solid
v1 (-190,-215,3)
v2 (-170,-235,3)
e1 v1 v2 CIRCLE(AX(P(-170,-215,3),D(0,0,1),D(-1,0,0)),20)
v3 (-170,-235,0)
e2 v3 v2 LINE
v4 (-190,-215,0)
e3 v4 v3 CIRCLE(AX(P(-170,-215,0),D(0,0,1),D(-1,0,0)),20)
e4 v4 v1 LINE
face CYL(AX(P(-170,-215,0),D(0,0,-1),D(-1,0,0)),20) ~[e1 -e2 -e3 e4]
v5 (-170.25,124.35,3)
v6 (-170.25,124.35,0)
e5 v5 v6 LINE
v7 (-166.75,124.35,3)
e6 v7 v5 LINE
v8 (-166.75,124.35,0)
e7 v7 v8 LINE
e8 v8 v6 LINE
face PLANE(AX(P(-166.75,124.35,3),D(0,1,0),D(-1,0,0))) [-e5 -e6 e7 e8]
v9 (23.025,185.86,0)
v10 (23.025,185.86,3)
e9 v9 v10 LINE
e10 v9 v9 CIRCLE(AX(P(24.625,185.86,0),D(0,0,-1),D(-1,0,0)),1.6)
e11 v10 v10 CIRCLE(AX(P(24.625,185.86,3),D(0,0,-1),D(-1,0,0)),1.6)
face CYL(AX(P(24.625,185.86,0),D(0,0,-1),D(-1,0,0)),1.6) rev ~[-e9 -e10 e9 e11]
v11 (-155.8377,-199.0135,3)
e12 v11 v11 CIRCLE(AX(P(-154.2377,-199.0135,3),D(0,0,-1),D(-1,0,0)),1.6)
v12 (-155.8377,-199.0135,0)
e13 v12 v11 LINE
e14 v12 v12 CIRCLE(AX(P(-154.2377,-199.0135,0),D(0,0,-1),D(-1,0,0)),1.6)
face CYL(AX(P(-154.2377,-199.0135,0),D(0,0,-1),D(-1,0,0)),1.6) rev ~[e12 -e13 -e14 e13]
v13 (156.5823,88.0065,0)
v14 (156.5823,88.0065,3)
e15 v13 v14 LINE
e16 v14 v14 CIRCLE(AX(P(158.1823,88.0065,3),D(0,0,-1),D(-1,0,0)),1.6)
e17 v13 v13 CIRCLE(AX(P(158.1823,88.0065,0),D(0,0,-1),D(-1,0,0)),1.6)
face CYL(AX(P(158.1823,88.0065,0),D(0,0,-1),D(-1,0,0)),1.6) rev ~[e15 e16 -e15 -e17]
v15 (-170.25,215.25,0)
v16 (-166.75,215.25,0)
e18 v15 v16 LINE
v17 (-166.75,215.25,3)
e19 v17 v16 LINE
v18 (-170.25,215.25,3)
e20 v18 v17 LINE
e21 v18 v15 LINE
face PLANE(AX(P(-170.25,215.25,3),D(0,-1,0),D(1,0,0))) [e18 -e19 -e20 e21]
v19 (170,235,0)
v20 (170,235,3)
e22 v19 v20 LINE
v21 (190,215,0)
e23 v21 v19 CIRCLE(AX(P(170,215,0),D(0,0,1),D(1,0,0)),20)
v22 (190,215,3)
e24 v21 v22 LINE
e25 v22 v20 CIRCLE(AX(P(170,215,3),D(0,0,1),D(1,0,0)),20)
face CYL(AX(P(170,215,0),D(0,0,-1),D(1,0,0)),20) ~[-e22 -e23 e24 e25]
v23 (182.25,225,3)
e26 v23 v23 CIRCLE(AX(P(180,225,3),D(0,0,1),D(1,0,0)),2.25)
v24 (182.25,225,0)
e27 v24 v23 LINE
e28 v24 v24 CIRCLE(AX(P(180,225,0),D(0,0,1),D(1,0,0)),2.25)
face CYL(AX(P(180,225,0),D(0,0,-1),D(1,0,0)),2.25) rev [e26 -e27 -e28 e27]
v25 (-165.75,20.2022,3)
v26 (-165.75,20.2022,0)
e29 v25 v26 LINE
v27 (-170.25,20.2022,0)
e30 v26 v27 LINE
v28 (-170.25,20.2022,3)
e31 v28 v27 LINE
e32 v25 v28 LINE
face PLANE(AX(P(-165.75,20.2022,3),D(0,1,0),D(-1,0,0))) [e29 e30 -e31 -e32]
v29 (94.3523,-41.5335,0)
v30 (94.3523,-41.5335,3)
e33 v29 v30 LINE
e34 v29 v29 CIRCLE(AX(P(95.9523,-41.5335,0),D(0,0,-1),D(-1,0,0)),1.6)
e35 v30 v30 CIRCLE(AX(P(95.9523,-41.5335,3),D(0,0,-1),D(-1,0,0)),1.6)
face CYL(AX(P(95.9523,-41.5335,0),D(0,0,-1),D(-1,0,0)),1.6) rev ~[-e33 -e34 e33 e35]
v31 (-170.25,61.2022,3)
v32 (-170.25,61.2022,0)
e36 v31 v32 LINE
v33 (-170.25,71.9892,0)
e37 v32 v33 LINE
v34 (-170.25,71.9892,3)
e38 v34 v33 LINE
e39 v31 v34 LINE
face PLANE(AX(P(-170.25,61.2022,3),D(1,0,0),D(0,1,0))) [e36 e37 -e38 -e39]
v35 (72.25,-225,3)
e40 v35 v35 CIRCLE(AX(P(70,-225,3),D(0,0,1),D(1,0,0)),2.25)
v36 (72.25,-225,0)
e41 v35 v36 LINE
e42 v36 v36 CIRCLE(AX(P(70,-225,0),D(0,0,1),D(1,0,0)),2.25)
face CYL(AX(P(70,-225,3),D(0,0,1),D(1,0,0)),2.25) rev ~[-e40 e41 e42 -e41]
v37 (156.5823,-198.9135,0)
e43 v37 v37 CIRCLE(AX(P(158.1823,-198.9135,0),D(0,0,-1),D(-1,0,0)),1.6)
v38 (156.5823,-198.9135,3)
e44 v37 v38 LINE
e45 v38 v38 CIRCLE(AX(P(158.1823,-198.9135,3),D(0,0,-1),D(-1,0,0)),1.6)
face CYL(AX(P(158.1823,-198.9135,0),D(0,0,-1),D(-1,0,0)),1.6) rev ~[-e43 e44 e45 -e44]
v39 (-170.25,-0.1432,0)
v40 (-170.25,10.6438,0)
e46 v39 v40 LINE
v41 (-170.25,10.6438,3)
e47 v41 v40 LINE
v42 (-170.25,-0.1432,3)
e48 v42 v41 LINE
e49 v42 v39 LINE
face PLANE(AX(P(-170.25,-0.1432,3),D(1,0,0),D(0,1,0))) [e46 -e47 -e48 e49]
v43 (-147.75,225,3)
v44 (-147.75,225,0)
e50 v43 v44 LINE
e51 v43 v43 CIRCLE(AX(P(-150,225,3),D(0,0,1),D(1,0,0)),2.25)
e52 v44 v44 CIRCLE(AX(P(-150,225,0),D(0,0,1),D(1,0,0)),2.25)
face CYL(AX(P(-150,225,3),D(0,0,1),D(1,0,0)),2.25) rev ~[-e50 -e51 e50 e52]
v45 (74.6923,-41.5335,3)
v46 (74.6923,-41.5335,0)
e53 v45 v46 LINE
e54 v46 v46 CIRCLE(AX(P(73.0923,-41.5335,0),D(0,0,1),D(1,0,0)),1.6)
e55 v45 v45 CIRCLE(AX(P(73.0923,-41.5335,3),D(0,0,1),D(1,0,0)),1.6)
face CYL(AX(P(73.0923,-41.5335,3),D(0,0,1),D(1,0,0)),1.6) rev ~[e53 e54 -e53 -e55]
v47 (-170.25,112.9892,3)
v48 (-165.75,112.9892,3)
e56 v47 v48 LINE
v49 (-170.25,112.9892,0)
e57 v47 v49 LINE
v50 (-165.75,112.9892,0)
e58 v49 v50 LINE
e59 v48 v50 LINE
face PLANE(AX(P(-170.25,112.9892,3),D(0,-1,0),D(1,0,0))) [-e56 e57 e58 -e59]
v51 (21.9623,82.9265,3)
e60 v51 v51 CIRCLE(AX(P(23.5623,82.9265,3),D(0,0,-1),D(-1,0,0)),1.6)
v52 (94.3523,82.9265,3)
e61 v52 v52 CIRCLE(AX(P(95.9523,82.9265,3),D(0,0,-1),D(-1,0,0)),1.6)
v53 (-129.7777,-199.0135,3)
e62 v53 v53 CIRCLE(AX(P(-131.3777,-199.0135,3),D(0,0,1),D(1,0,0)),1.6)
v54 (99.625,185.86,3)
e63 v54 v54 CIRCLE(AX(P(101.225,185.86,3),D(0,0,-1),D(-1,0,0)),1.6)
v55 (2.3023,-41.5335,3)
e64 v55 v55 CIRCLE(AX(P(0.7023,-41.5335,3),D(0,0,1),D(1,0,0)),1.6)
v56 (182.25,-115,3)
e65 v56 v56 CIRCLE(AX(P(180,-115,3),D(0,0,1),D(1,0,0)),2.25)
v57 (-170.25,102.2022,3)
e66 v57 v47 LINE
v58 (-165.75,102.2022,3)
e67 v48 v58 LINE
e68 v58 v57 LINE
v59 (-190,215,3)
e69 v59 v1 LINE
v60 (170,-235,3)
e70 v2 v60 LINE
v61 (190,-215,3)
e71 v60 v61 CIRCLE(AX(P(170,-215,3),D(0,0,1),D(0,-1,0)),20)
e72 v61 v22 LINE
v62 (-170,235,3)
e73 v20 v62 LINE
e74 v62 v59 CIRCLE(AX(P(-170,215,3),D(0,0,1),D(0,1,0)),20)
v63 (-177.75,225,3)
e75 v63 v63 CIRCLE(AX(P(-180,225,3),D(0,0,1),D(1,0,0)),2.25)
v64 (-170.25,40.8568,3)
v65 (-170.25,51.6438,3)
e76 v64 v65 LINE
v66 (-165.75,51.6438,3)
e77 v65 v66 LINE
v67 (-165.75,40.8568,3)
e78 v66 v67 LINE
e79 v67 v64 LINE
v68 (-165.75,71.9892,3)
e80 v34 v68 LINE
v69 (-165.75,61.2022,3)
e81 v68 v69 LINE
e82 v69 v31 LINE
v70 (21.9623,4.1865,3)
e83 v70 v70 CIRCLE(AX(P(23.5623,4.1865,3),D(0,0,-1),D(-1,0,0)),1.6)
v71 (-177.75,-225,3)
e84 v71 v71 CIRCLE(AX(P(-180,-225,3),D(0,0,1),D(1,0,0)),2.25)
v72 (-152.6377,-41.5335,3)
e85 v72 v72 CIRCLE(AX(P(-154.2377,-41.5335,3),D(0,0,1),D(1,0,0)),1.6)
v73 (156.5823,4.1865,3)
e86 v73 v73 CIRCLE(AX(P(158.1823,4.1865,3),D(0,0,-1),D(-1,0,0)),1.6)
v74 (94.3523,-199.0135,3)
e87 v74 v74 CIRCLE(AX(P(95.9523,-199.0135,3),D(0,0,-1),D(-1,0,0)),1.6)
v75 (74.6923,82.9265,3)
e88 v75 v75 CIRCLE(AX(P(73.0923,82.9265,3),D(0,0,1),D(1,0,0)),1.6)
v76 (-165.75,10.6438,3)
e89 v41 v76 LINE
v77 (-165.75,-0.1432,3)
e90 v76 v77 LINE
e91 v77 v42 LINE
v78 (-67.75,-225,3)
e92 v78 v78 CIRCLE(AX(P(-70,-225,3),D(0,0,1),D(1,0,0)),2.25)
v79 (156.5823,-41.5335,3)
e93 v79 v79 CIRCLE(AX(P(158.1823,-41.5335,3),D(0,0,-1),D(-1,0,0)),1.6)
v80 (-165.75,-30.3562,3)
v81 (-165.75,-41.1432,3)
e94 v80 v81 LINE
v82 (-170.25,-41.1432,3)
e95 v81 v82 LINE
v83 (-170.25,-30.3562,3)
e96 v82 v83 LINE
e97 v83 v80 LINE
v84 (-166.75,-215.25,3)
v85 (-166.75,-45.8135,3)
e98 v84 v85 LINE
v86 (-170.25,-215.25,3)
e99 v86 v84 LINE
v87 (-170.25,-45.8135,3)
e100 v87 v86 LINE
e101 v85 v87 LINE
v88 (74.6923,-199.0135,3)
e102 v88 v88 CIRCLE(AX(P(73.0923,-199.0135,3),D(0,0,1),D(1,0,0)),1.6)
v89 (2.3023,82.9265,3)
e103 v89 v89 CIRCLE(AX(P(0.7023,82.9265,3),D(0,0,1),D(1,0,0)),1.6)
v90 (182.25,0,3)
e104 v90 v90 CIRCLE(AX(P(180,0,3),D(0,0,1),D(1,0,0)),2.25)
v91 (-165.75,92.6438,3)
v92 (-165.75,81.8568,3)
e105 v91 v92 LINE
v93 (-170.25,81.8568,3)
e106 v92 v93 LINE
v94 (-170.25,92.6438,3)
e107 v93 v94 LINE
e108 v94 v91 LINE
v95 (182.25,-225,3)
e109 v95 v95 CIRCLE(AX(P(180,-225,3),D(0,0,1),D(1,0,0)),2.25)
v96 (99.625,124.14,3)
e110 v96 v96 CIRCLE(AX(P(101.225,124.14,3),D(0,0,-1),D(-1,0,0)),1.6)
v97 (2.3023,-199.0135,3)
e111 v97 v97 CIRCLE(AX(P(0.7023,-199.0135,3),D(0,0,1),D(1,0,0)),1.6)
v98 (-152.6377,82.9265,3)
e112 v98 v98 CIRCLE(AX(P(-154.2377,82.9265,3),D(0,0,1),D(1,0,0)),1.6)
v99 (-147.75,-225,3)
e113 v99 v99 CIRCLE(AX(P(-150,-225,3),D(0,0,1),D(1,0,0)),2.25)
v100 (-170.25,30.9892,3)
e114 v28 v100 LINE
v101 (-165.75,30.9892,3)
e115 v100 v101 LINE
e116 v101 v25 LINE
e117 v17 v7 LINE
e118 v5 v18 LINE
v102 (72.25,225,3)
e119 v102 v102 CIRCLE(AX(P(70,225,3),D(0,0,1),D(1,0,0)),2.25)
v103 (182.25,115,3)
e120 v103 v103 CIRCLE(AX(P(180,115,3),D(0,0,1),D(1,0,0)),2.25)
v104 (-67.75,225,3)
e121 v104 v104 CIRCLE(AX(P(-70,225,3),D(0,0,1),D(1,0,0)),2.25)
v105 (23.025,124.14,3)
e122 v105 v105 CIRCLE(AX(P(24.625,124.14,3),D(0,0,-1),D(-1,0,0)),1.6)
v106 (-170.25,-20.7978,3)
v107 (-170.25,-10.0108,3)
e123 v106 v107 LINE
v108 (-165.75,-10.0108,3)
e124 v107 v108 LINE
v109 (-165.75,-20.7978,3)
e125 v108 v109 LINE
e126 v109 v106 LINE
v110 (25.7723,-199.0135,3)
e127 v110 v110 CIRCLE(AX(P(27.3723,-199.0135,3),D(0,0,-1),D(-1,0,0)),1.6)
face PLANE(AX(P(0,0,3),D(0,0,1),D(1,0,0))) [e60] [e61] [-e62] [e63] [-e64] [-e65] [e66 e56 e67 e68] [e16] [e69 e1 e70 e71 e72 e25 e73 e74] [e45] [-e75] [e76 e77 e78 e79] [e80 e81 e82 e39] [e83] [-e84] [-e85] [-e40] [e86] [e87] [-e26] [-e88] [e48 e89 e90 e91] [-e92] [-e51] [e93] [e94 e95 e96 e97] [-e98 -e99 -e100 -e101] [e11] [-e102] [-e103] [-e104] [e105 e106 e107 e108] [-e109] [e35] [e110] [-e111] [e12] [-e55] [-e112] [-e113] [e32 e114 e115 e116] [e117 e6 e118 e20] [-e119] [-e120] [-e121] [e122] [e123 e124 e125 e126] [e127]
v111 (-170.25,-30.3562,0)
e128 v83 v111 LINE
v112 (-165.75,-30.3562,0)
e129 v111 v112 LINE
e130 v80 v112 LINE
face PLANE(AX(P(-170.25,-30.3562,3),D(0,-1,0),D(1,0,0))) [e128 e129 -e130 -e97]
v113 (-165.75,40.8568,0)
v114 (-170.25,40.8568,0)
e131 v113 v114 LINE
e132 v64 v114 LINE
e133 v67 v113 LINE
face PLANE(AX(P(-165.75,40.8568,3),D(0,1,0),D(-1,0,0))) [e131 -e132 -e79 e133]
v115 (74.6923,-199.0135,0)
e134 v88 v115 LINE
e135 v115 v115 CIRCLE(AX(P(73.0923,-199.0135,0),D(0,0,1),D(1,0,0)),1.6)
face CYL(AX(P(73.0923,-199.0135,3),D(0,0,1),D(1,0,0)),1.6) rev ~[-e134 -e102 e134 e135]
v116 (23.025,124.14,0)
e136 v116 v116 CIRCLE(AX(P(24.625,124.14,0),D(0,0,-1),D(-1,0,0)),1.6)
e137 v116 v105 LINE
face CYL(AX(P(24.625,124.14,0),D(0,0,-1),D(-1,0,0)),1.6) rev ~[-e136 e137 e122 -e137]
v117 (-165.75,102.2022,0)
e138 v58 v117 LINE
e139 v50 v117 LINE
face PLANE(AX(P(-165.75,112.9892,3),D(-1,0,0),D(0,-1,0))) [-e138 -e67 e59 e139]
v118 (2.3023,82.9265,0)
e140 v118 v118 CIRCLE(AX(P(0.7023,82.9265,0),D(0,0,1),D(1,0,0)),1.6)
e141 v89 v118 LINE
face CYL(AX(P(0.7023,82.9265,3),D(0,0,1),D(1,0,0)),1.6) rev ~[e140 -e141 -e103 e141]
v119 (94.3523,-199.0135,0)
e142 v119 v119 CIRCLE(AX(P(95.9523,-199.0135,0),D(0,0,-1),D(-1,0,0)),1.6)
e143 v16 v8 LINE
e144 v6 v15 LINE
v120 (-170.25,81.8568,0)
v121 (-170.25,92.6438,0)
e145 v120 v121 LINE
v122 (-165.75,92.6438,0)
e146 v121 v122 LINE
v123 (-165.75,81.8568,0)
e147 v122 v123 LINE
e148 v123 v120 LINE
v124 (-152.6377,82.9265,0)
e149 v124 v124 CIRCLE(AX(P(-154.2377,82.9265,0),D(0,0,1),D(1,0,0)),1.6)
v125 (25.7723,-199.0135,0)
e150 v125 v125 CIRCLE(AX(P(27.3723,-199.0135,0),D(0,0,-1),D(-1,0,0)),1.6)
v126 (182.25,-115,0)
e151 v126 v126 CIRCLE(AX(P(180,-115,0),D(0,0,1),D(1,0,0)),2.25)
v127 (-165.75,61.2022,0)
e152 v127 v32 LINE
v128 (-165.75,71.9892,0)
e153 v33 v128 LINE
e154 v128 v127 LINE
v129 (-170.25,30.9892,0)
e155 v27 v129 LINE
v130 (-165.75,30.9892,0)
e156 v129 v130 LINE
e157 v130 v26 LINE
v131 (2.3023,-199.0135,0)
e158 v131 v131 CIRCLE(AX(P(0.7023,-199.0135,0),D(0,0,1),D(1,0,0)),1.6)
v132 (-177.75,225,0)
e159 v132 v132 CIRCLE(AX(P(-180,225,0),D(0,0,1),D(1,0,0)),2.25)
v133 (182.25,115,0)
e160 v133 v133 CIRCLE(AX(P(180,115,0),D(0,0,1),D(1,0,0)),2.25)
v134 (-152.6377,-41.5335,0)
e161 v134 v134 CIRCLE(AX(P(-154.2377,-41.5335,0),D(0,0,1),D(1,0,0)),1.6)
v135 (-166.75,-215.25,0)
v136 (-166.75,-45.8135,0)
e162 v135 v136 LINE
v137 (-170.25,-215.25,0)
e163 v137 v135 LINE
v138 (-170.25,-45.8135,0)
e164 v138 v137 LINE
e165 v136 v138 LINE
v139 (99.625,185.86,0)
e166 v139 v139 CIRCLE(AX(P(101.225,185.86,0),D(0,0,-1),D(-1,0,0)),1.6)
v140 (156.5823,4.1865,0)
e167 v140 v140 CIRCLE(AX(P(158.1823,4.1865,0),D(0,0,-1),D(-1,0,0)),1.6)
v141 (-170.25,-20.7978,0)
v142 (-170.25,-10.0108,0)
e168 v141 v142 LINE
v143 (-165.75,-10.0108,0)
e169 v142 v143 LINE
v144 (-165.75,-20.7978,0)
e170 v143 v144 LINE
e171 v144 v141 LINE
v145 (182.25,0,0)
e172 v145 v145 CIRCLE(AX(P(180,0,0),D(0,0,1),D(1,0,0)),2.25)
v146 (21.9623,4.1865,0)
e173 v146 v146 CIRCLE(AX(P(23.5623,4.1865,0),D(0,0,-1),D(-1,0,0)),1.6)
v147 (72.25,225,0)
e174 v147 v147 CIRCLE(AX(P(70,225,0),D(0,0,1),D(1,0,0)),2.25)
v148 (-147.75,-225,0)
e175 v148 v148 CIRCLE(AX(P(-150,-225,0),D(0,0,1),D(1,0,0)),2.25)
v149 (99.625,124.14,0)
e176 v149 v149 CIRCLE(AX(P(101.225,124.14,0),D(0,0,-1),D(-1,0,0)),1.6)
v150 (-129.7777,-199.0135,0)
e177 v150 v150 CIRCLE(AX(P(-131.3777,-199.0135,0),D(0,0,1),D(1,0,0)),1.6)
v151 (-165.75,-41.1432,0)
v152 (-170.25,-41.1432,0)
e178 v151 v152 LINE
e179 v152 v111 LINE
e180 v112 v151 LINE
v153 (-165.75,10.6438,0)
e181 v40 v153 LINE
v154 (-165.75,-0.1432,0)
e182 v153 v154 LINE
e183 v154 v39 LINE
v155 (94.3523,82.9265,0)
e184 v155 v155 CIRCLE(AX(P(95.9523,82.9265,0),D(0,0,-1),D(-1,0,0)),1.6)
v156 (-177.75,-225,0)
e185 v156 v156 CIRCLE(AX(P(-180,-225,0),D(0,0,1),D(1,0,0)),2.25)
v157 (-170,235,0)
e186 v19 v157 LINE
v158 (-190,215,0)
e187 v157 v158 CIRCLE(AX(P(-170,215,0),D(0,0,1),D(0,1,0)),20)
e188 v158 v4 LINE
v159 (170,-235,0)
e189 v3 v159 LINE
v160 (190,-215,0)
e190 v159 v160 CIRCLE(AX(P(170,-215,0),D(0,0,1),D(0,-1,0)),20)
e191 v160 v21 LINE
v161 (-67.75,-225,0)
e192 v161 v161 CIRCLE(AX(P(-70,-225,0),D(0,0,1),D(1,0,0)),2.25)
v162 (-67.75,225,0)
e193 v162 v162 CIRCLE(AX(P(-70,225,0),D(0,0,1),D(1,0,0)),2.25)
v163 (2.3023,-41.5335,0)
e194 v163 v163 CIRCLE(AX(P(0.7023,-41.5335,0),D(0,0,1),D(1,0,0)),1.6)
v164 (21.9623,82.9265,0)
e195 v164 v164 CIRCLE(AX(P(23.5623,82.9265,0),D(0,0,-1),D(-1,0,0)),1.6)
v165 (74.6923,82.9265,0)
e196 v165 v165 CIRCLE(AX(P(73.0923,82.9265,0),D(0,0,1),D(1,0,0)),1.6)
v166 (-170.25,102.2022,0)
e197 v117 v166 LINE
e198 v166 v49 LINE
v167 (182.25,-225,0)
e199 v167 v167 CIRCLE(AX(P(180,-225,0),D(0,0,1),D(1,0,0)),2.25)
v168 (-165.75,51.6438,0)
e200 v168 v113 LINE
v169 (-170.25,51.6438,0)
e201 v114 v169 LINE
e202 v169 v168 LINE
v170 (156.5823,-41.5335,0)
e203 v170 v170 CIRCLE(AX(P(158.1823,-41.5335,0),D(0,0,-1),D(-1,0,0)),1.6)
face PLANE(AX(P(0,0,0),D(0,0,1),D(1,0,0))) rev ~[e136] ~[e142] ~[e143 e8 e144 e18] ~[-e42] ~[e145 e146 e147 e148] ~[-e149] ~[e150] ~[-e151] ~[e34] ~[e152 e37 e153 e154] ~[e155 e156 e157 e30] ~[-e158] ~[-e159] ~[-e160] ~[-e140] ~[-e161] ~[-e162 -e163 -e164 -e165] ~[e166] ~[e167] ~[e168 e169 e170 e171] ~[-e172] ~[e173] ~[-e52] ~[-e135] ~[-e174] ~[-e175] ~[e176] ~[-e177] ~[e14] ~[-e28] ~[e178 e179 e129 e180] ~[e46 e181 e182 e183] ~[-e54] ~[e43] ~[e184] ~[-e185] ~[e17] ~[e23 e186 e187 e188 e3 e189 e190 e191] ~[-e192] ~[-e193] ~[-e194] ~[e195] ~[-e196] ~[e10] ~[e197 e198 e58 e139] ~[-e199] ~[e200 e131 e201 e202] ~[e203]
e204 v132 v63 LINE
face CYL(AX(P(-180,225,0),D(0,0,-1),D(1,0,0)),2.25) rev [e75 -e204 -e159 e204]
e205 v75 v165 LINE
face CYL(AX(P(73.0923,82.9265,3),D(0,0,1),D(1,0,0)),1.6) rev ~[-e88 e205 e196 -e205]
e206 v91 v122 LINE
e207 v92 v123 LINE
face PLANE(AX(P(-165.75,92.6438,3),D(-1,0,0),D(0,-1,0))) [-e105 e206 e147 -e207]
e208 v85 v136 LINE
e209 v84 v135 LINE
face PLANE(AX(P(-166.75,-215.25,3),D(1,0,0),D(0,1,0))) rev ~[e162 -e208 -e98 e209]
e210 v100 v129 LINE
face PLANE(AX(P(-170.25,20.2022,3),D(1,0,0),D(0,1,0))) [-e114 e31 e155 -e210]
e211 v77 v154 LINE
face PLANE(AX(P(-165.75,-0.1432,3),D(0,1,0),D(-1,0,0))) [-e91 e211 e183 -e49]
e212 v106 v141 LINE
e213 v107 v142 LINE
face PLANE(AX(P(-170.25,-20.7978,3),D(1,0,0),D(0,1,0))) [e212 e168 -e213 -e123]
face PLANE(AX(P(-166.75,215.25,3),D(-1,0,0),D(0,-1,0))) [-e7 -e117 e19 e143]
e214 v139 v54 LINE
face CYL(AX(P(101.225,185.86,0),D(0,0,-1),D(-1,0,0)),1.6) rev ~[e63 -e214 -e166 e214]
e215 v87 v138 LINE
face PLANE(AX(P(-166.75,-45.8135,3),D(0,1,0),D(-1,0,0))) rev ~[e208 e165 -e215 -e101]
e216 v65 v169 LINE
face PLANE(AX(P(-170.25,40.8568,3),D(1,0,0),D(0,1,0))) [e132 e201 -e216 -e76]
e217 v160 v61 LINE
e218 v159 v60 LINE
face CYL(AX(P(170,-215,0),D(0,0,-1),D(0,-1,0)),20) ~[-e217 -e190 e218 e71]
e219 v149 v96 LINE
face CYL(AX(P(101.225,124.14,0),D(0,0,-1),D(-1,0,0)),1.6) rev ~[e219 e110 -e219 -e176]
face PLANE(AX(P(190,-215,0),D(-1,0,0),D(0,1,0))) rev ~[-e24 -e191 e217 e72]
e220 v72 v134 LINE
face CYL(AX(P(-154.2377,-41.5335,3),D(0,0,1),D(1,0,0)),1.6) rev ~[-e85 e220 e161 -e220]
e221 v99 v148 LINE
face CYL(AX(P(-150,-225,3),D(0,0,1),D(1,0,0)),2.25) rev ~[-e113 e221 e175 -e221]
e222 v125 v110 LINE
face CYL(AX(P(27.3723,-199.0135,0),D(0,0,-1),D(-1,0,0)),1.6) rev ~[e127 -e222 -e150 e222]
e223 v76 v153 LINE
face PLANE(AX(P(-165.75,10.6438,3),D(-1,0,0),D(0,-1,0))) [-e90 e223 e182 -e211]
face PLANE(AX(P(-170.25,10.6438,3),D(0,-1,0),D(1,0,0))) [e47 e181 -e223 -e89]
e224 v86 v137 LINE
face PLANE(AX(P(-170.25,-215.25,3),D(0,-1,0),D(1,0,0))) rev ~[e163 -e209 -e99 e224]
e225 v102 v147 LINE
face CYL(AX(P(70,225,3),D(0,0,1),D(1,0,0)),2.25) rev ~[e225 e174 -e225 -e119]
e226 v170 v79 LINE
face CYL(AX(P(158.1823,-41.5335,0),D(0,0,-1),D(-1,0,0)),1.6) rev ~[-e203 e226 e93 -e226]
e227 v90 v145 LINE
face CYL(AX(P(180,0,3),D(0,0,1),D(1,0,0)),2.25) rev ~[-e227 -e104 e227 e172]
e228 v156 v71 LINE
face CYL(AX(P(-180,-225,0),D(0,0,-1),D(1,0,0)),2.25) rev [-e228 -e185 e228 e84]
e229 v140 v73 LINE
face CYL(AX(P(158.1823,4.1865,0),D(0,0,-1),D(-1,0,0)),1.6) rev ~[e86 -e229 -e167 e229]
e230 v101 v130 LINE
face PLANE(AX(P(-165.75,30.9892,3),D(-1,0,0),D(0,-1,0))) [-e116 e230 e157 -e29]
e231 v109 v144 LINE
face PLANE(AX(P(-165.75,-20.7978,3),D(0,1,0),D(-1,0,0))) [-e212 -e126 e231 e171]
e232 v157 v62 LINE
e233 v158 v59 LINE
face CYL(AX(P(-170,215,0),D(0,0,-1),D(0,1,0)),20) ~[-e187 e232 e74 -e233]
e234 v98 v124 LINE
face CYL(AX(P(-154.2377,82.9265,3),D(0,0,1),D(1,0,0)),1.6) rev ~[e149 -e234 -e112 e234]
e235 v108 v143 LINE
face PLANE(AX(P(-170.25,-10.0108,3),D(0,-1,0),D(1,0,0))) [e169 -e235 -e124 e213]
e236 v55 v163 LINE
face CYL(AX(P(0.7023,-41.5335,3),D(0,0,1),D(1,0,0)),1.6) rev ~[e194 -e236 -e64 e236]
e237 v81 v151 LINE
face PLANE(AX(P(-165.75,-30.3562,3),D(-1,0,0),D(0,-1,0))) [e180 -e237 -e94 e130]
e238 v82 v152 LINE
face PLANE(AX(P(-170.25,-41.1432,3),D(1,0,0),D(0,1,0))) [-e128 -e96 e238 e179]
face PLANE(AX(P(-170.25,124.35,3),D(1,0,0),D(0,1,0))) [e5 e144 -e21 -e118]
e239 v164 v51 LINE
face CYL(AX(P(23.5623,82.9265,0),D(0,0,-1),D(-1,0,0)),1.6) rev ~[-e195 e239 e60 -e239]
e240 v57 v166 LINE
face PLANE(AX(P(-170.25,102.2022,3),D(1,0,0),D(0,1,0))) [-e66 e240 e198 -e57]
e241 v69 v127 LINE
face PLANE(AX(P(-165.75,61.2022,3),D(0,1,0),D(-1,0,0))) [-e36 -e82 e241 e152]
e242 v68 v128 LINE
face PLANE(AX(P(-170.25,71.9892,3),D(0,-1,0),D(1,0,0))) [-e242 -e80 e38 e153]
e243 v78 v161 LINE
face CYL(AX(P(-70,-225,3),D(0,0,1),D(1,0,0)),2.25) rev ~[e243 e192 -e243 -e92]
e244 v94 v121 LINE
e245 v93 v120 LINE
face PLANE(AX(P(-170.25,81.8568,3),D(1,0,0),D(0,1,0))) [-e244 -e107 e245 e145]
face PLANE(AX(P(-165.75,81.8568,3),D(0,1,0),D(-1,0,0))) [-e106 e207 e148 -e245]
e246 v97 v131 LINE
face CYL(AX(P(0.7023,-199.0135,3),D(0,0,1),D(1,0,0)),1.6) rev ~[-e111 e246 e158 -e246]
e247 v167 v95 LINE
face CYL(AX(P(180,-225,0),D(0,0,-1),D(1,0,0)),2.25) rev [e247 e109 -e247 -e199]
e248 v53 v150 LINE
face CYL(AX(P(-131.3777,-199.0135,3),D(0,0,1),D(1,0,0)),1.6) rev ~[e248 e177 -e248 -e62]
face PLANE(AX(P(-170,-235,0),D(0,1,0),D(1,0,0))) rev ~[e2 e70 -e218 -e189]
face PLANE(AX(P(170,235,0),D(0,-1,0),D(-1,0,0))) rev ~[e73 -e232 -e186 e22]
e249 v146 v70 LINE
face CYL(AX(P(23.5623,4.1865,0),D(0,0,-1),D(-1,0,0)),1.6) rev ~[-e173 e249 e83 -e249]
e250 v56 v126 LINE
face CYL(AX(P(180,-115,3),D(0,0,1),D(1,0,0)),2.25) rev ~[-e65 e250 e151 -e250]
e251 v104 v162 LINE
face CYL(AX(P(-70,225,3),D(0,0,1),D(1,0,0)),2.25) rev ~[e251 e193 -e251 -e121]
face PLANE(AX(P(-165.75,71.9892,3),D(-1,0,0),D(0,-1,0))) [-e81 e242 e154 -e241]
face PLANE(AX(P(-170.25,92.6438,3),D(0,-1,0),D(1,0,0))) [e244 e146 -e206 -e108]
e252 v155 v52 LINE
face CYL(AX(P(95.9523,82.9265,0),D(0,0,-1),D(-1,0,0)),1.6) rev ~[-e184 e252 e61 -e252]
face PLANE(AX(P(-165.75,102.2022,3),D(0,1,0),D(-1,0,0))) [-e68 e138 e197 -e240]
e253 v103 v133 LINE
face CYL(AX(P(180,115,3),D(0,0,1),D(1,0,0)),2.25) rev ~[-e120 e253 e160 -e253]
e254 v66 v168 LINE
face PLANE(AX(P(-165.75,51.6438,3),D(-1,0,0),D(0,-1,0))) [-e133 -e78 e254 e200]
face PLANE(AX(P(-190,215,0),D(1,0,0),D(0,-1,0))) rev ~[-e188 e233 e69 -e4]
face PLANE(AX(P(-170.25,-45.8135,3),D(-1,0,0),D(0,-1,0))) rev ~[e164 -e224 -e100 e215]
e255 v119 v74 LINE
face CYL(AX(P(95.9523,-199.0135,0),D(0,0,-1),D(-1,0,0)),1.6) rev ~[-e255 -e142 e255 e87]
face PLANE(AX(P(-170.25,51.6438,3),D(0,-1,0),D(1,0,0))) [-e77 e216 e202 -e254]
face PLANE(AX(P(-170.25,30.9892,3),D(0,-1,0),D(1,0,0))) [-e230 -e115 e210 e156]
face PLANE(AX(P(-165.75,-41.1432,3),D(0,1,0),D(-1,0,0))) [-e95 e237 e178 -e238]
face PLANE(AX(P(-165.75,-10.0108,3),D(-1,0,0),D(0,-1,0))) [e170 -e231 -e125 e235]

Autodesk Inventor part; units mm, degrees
ref_plane "YZ Plane" through (0, 0, 0) normal (1, 0, 0) x (0, 1, 0)
ref_plane "XZ Plane" through (0, 0, 0) normal (0, 1, 0) x (-1, 0, 0)
ref_plane "XY Plane" through (0, 0, 0) normal (0, 0, 1) x (1, 0, 0)
sketch "スケッチ1" plane through (0, 0, 0) normal (0, 0, 1) x (1, 0, 0)
  line L0 (-170, -235) -> (170, -235)
  line L1 (190, -215) -> (190, 215)
  line L2 (170, 235) -> (-170, 235)
  line L3 (-190, 215) -> (-190, -215)
  line L4 (-190, -235) -> (190, 235) construction
  line L5 (190, -235) -> (-190, 235) construction
  circle A0 centre (-180, 225) radius 2.25
  circle A1 centre (180, 225) radius 2.25
  circle A2 centre (-180, -225) radius 2.25
  circle A3 centre (180, -225) radius 2.25
  arc A4 (-170, 235) -> (-190, 215) centre (-170, 215) ccw
  arc A5 (190, 215) -> (170, 235) centre (170, 215) ccw
  arc A6 (170, -235) -> (190, -215) centre (170, -215) ccw
  arc A7 (-190, -215) -> (-170, -235) centre (-170, -215) ccw
  point P0 (0, 0)
  dimension "d0" = 380
  dimension "d1" = 470
  dimension "d2" = 4.5
  dimension "d3" = 10
  dimension "d4" = 10
  dimension "d5" = 10
  dimension "d6" = 10
  dimension "d7" = 10
  dimension "d8" = 10
  dimension "d9" = 10
  dimension "d10" = 10
  dimension "d11" = 20
extrude "押し出し1" add sketch "スケッチ1" along normal blind 3
sketch "スケッチ2" plane through (0, 0, 3) normal (0, 0, 1) x (1, 0, 0)
  circle A0 centre (73.0923, -199.0135) radius 2.25 construction
  circle A1 centre (-131.3777, -199.0135) radius 2.25 construction
  circle A2 centre (73.0923, -41.5335) radius 2.25 construction
  circle A3 centre (73.0923, 82.9265) radius 2.25 construction
  circle A4 centre (0.7023, -199.0135) radius 2.25 construction
  circle A5 centre (0.7023, -41.5335) radius 2.25 construction
  circle A6 centre (0.7023, 82.9265) radius 2.25 construction
  circle A7 centre (-154.2377, -41.5335) radius 2.25 construction
  circle A8 centre (-154.2377, 82.9265) radius 2.25 construction
  circle A9 centre (73.0923, 82.9265) radius 1.6
  circle A10 centre (0.7023, 82.9265) radius 1.6
  circle A11 centre (-154.2377, 82.9265) radius 1.6
  circle A12 centre (-154.2377, -41.5335) radius 1.6
  circle A13 centre (-131.3777, -199.0135) radius 1.6
  circle A14 centre (0.7023, -199.0135) radius 1.6
  circle A15 centre (73.0923, -199.0135) radius 1.6
  circle A16 centre (73.0923, -41.5335) radius 1.6
  circle A17 centre (0.7023, -41.5335) radius 1.6
  point P0 (0, 0)
  dimension "d14" = 3.2
extrude "押し出し2" cut sketch "スケッチ2" against normal blind 3
sketch "スケッチ4" plane through (0, 0, 3) normal (0, 0, 1) x (1, 0, 0)
  line L0 (-170, -215) -> (-170, -46.0635) projected
  line L1 (-170, -215) -> (-167, -215) projected
  line L2 (-167, -46.0635) -> (-167, -215) projected
  line L3 (-170, -46.0635) -> (-167, -46.0635) projected
  line L4 (-170, -40.8932) -> (-170, -30.6062) projected
  line L5 (-170, -40.8932) -> (-167, -40.8932) projected
  line L6 (-167, -30.6062) -> (-167, -40.8932) projected
  line L7 (-170, -30.6062) -> (-167, -30.6062) projected
  line L8 (-170, -20.5478) -> (-170, -10.2608) projected
  line L9 (-170, -20.5478) -> (-167, -20.5478) projected
  line L10 (-167, -10.2608) -> (-167, -20.5478) projected
  line L11 (-170, -10.2608) -> (-167, -10.2608) projected
  line L12 (-170, 0.1068) -> (-170, 10.3938) projected
  line L13 (-170, 0.1068) -> (-167, 0.1068) projected
  line L14 (-167, 10.3938) -> (-167, 0.1068) projected
  line L15 (-170, 10.3938) -> (-167, 10.3938) projected
  line L16 (-170, 20.4522) -> (-170, 30.7392) projected
  line L17 (-170, 20.4522) -> (-167, 20.4522) projected
  line L18 (-167, 30.7392) -> (-167, 20.4522) projected
  line L19 (-170, 30.7392) -> (-167, 30.7392) projected
  line L20 (-170, 41.1068) -> (-170, 51.3938) projected
  line L21 (-170, 41.1068) -> (-167, 41.1068) projected
  line L22 (-167, 51.3938) -> (-167, 41.1068) projected
  line L23 (-170, 51.3938) -> (-167, 51.3938) projected
  line L24 (-170, 61.4522) -> (-170, 71.7392) projected
  line L25 (-170, 61.4522) -> (-167, 61.4522) projected
  line L26 (-167, 71.7392) -> (-167, 61.4522) projected
  line L27 (-170, 71.7392) -> (-167, 71.7392) projected
  line L28 (-170, 82.1068) -> (-170, 92.3938) projected
  line L29 (-170, 82.1068) -> (-167, 82.1068) projected
  line L30 (-167, 92.3938) -> (-167, 82.1068) projected
  line L31 (-170, 92.3938) -> (-167, 92.3938) projected
  line L32 (-170, 102.4522) -> (-170, 112.7392) projected
  line L33 (-170, 102.4522) -> (-167, 102.4522) projected
  line L34 (-167, 112.7392) -> (-167, 102.4522) projected
  line L35 (-170, 112.7392) -> (-167, 112.7392) projected
  line L36 (-170, 215) -> (-170, 124.6) projected
  line L37 (-170, 124.6) -> (-167, 124.6) projected
  line L38 (-167, 215) -> (-167, 124.6) projected
  line L39 (-170, 215) -> (-167, 215) projected
  line L40 (-167, 112.7392) -> (-166, 112.7392)
  line L41 (-166, 112.7392) -> (-166, 102.4522)
  line L42 (-166, 102.4522) -> (-167, 102.4522)
  line L43 (-167, 92.3938) -> (-166, 92.3938)
  line L44 (-166, 92.3938) -> (-166, 82.1068)
  line L45 (-166, 82.1068) -> (-167, 82.1068)
  line L46 (-167, 71.7392) -> (-166, 71.7392)
  line L47 (-166, 71.7392) -> (-166, 61.4522)
  line L48 (-166, 61.4522) -> (-167, 61.4522)
  line L49 (-167, 51.3938) -> (-166, 51.3938)
  line L50 (-166, 51.3938) -> (-166, 41.1068)
  line L51 (-166, 41.1068) -> (-167, 41.1068)
  line L52 (-167, 30.7392) -> (-166, 30.7392)
  line L53 (-166, 30.7392) -> (-166, 20.4522)
  line L54 (-166, 20.4522) -> (-167, 20.4522)
  line L55 (-167, 10.3938) -> (-166, 10.3938)
  line L56 (-166, 10.3938) -> (-166, 0.1068)
  line L57 (-166, 0.1068) -> (-167, 0.1068)
  line L58 (-167, -10.2608) -> (-166, -10.2608)
  line L59 (-166, -10.2608) -> (-166, -20.5478)
  line L60 (-166, -20.5478) -> (-167, -20.5478)
  line L61 (-167, -30.6062) -> (-166, -30.6062)
  line L62 (-166, -30.6062) -> (-166, -40.8932)
  line L63 (-166, -40.8932) -> (-167, -40.8932)
  point P0 (0, 0)
  dimension "d17" = 1
extrude "押し出し3" cut sketch "スケッチ4" against normal blind 3
sketch "スケッチ5" plane through (0, 0, 3) normal (0, 0, 1) x (1, 0, 0)
  circle A0 centre (-180, 225) radius 2.25 construction
  circle A1 centre (-180, -225) radius 2.25 construction
  circle A2 centre (-150, -225) radius 2.25
  line L0 (-170, -235) -> (170, -235) projected
  circle A3 centre (-150, 225) radius 2.25
  line L1 (170, 235) -> (-170, 235) projected
  point P0 (0, 0)
  dimension "d20" = 30
  dimension "d21" = 10
  dimension "d22" = 30
  dimension "d23" = 10
extrude "押し出し4" cut sketch "スケッチ5" against normal blind 3
sketch "スケッチ6" plane through (0, 0, 3) normal (0, 0, 1) x (1, 0, 0)
  circle A0 centre (-150, -225) radius 2.25 construction
  circle A1 centre (-150, 225) radius 2.25 construction
  line L0 (-167, 124.6) -> (-170, 124.6) construction
  line L1 (-170, 124.6) -> (-170, 215) construction
  line L2 (-170, 215) -> (-167, 215) construction
  line L3 (-167, 215) -> (-167, 124.6) construction
  line L4 (-166, 92.3938) -> (-166, 82.1068) construction
  line L5 (-166, 82.1068) -> (-170, 82.1068) construction
  line L6 (-170, 82.1068) -> (-170, 92.3938) construction
  line L7 (-170, 92.3938) -> (-166, 92.3938) construction
  line L8 (-166, 51.3938) -> (-166, 41.1068) construction
  line L9 (-166, 41.1068) -> (-170, 41.1068) construction
  line L10 (-170, 41.1068) -> (-170, 51.3938) construction
  line L11 (-170, 51.3938) -> (-166, 51.3938) construction
  line L12 (-166, 10.3938) -> (-166, 0.1068) construction
  line L13 (-166, 0.1068) -> (-170, 0.1068) construction
  line L14 (-170, 0.1068) -> (-170, 10.3938) construction
  line L15 (-170, 10.3938) -> (-166, 10.3938) construction
  line L16 (-166, -30.6062) -> (-166, -40.8932) construction
  line L17 (-166, -40.8932) -> (-170, -40.8932) construction
  line L18 (-170, -40.8932) -> (-170, -30.6062) construction
  line L19 (-170, -30.6062) -> (-166, -30.6062) construction
  line L20 (-166, -10.2608) -> (-166, -20.5478) construction
  line L21 (-166, -20.5478) -> (-170, -20.5478) construction
  line L22 (-170, -20.5478) -> (-170, -10.2608) construction
  line L23 (-170, -10.2608) -> (-166, -10.2608) construction
  line L24 (-166, 30.7392) -> (-166, 20.4522) construction
  line L25 (-166, 20.4522) -> (-170, 20.4522) construction
  line L26 (-170, 20.4522) -> (-170, 30.7392) construction
  line L27 (-170, 30.7392) -> (-166, 30.7392) construction
  line L28 (-166, 71.7392) -> (-166, 61.4522) construction
  line L29 (-166, 61.4522) -> (-170, 61.4522) construction
  line L30 (-170, 61.4522) -> (-170, 71.7392) construction
  line L31 (-170, 71.7392) -> (-166, 71.7392) construction
  line L32 (-166, 112.7392) -> (-166, 102.4522) construction
  line L33 (-166, 102.4522) -> (-170, 102.4522) construction
  line L34 (-170, 102.4522) -> (-170, 112.7392) construction
  line L35 (-170, 112.7392) -> (-166, 112.7392) construction
  line L36 (-167, -215) -> (-170, -215) construction
  line L37 (-170, -215) -> (-170, -46.0635) construction
  line L38 (-170, -46.0635) -> (-167, -46.0635) construction
  line L39 (-167, -46.0635) -> (-167, -215) construction
  circle A2 centre (73.0923, -41.5335) radius 1.6 construction
  circle A3 centre (0.7023, -199.0135) radius 1.6 construction
  circle A4 centre (-154.2377, -41.5335) radius 1.6 construction
  circle A5 centre (0.7023, 82.9265) radius 1.6 construction
  circle A6 centre (73.0923, 82.9265) radius 1.6 construction
  circle A7 centre (-154.2377, 82.9265) radius 1.6 construction
  circle A8 centre (-131.3777, -199.0135) radius 1.6 construction
  circle A9 centre (73.0923, -199.0135) radius 1.6 construction
  circle A10 centre (0.7023, -41.5335) radius 1.6 construction
  circle A11 centre (180, -225) radius 2.25 construction
  circle A12 centre (-180, -225) radius 2.25 construction
  circle A13 centre (180, 225) radius 2.25 construction
  circle A14 centre (-180, 225) radius 2.25 construction
  line L40 (170, 235) -> (-170, 235) construction
  arc A15 (-170, 235) -> (-190, 215) centre (-170, 215) ccw construction
  line L41 (-190, 215) -> (-190, -215) construction
  arc A16 (-190, -215) -> (-170, -235) centre (-170, -215) ccw construction
  line L42 (-170, -235) -> (170, -235) construction
  arc A17 (170, -235) -> (190, -215) centre (170, -215) ccw construction
  line L43 (190, -215) -> (190, 215) construction
  arc A18 (190, 215) -> (170, 235) centre (170, 215) ccw construction
  line L44 (-166.75, 124.35) -> (-170.25, 124.35)
  line L45 (-170.25, 124.35) -> (-170.25, 215.25)
  line L46 (-170.25, 215.25) -> (-166.75, 215.25)
  line L47 (-166.75, 215.25) -> (-166.75, 124.35)
  line L48 (-165.75, 112.9892) -> (-165.75, 102.2022)
  line L49 (-165.75, 102.2022) -> (-170.25, 102.2022)
  line L50 (-170.25, 102.2022) -> (-170.25, 112.9892)
  line L51 (-170.25, 112.9892) -> (-165.75, 112.9892)
  line L52 (-165.75, 92.6438) -> (-165.75, 81.8568)
  line L53 (-165.75, 81.8568) -> (-170.25, 81.8568)
  line L54 (-170.25, 81.8568) -> (-170.25, 92.6438)
  line L55 (-170.25, 92.6438) -> (-165.75, 92.6438)
  line L56 (-165.75, 71.9892) -> (-165.75, 61.2022)
  line L57 (-165.75, 61.2022) -> (-170.25, 61.2022)
  line L58 (-170.25, 61.2022) -> (-170.25, 71.9892)
  line L59 (-170.25, 71.9892) -> (-165.75, 71.9892)
  line L60 (-165.75, 51.6438) -> (-165.75, 40.8568)
  line L61 (-165.75, 40.8568) -> (-170.25, 40.8568)
  line L62 (-170.25, 40.8568) -> (-170.25, 51.6438)
  line L63 (-170.25, 51.6438) -> (-165.75, 51.6438)
  line L64 (-165.75, 30.9892) -> (-165.75, 20.2022)
  line L65 (-165.75, 20.2022) -> (-170.25, 20.2022)
  line L66 (-170.25, 20.2022) -> (-170.25, 30.9892)
  line L67 (-170.25, 30.9892) -> (-165.75, 30.9892)
  line L68 (-165.75, 10.6438) -> (-165.75, -0.1432)
  line L69 (-165.75, -0.1432) -> (-170.25, -0.1432)
  line L70 (-170.25, -0.1432) -> (-170.25, 10.6438)
  line L71 (-170.25, 10.6438) -> (-165.75, 10.6438)
  line L72 (-165.75, -10.0108) -> (-165.75, -20.7978)
  line L73 (-165.75, -20.7978) -> (-170.25, -20.7978)
  line L74 (-170.25, -20.7978) -> (-170.25, -10.0108)
  line L75 (-170.25, -10.0108) -> (-165.75, -10.0108)
  line L76 (-165.75, -30.3562) -> (-165.75, -41.1432)
  line L77 (-165.75, -41.1432) -> (-170.25, -41.1432)
  line L78 (-170.25, -41.1432) -> (-170.25, -30.3562)
  line L79 (-170.25, -30.3562) -> (-165.75, -30.3562)
  line L80 (-166.75, -45.8135) -> (-170.25, -45.8135)
  line L81 (-170.25, -45.8135) -> (-170.25, -215.25)
  line L82 (-170.25, -215.25) -> (-166.75, -215.25)
  line L83 (-166.75, -215.25) -> (-166.75, -45.8135)
  point P0 (0, 0)
  dimension "d26" = 0.25
  dimension "d27" = 0.25
  dimension "d28" = 0.25
  dimension "d29" = 0.25
  dimension "d30" = 0.25
  dimension "d31" = 0.25
  dimension "d32" = 0.25
  dimension "d33" = 0.25
  dimension "d34" = 0.25
  dimension "d35" = 0.25
extrude "押し出し5" cut sketch "スケッチ6" against normal through all
sketch "スケッチ7" plane through (0, 0, 3) normal (0, 0, 1) x (1, 0, 0)
  line L0 (190, 215) -> (190, -215) projected
  circle A0 centre (-70, -225) radius 2.25 projected
  circle A1 centre (180, 0) radius 2.25 projected
  circle A2 centre (70, -225) radius 2.25 projected
  circle A3 centre (180, 115) radius 2.25 projected
  circle A4 centre (-70, 225) radius 2.25 projected
  circle A5 centre (-180, -115) radius 2.25 projected
  circle A6 centre (-180, 0) radius 2.25 projected
  circle A7 centre (70, 225) radius 2.25 projected
  circle A8 centre (180, -115) radius 2.25 projected
  line L1 (-170.2, 124.4) -> (-166.8, 124.4) projected
  line L2 (-166.8, 124.4) -> (-166.8, 215.2) projected
  line L3 (-166.8, 215.2) -> (-170.2, 215.2) projected
  line L4 (-170.2, 215.2) -> (-170.2, 124.4) projected
  circle A9 centre (-180, 115) radius 2.25 projected
  circle A10 centre (180, 225) radius 2.25 projected
  circle A11 centre (-180, 225) radius 2.25 projected
  circle A12 centre (180, -225) radius 2.25 projected
  circle A13 centre (-180, -225) radius 2.25 projected
  line L5 (170, -235) -> (-170, -235) projected
  arc A14 (-190, -215) -> (-170, -235) centre (-170, -215) ccw projected
  line L6 (-190, -215) -> (-190, 215) projected
  arc A15 (-170, 235) -> (-190, 215) centre (-170, 215) ccw projected
  line L7 (-170, 235) -> (170, 235) projected
  arc A16 (190, 215) -> (170, 235) centre (170, 215) ccw projected
  line L8 (190, 215) -> (190, -215) projected
  arc A17 (170, -235) -> (190, -215) centre (170, -215) ccw projected
  point P0 (0, 0)
extrude "押し出し6" cut sketch "スケッチ7" against normal up to surface (3 mm away) contours A0 | A1 | A2 | A3 | A4 | A7 | A8
sketch "スケッチ8" plane through (0, 0, 0) normal (0, 0, -1) x (-1, 0, 0)
  line L0 (-14.775, 120.075) -> (-115.225, 120.075) construction
  line L1 (-115.225, 120.075) -> (-115.225, 189.925) construction
  line L2 (-115.225, 189.925) -> (-14.775, 189.925) construction
  line L3 (-14.775, 189.925) -> (-14.775, 120.075) construction
  line L4 (-14.775, 120.075) -> (-115.225, 189.925) construction
  line L5 (-115.225, 120.075) -> (-14.775, 189.925) construction
  line L6 (170, 235) -> (-170, 235) construction
  line L7 (-190, 215) -> (-190, -215) construction
  line L8 (-24.625, 185.86) -> (-101.225, 185.86) construction
  line L9 (-101.225, 185.86) -> (-101.225, 124.14) construction
  line L10 (-101.225, 124.14) -> (-24.625, 124.14) construction
  line L11 (-24.625, 124.14) -> (-24.625, 185.86) construction
  line L12 (-24.625, 185.86) -> (-101.225, 124.14) construction
  line L13 (-101.225, 185.86) -> (-24.625, 124.14) construction
  line L14 (-62.925, 155) -> (-65, 155) construction
  circle A0 centre (-24.625, 124.14) radius 1.6
  circle A1 centre (-24.625, 185.86) radius 1.6
  circle A2 centre (-101.225, 185.86) radius 1.6
  circle A3 centre (-101.225, 124.14) radius 1.6
  point P0 (0, 0)
  dimension "d40" = 69.85
  dimension "d41" = 100.45
  dimension "d42" = 80
  dimension "d43" = 125
  dimension "d44" = 61.72
  dimension "d45" = 90.6
  dimension "d46" = 14
  dimension "d47" = 3.2
  dimension "d48" = 3.2
  dimension "d49" = 3.2
  dimension "d50" = 3.2
extrude "押し出し7" cut sketch "スケッチ8" against normal through all
sketch "スケッチ9" plane through (0, 0, 0) normal (0, 0, -1) x (-1, 0, 0)
  circle A0 centre (131.3777, -199.0135) radius 1.6 construction
  circle A1 centre (-0.7023, -199.0135) radius 1.6 construction
  circle A2 centre (-73.0923, -199.0135) radius 1.6 construction
  circle A3 centre (154.2377, -41.5335) radius 1.6 construction
  circle A4 centre (154.2377, 82.9265) radius 1.6 construction
  circle A5 centre (-0.7023, 82.9265) radius 1.6 construction
  circle A6 centre (-73.0923, 82.9265) radius 1.6 construction
  circle A7 centre (-0.7023, -41.5335) radius 1.6 construction
  circle A8 centre (-73.0923, -41.5335) radius 1.6 construction
  line L0 (164.3977, -205.3635) -> (-107.3823, -205.3635) construction
  line L1 (-107.3823, -205.3635) -> (-107.3823, 99.4365) construction
  line L2 (-107.3823, 99.4365) -> (164.3977, 99.4365) construction
  line L3 (164.3977, 99.4365) -> (164.3977, -205.3635) construction
  point P0 (0, 0)
  dimension "d53" = 6.35
  dimension "d54" = 33.02
  dimension "d55" = 304.8
  dimension "d56" = 271.78
sketch "スケッチ10" plane through (0, 0, 0) normal (0, 0, -1) x (-1, 0, 0)
  line L0 (164.3977, -205.3635) -> (-165.8023, -205.3635) construction
  line L1 (-165.8023, -205.3635) -> (-165.8023, 99.4365) construction
  line L2 (-165.8023, 99.4365) -> (164.3977, 99.4365) construction
  line L3 (164.3977, 99.4365) -> (164.3977, -205.3635) construction
  circle A0 centre (154.2377, 82.9265) radius 1.6 construction
  circle A1 centre (-180, -115) radius 2.25 projected
  circle A2 centre (-158.1823, 88.0065) radius 1.6
  circle A3 centre (154.2377, 82.9265) radius 1.6 construction
  line L4 (154.2377, 82.9265) -> (-0.7023, 82.9265) construction
  circle A4 centre (-0.7023, 82.9265) radius 1.6 construction
  circle A5 centre (-0.7023, 82.9265) radius 1.6 construction
  line L5 (-0.7023, 82.9265) -> (-73.0923, 82.9265) construction
  line L6 (-73.0923, 82.9265) -> (-95.9523, 82.9265) construction
  circle A6 centre (-73.0923, 82.9265) radius 1.6
  circle A7 centre (-95.9523, 82.9265) radius 1.6
  line L7 (-158.1823, 88.0065) -> (-158.1823, 4.1865) construction
  line L8 (-158.1823, 4.1865) -> (-158.1823, -41.5335) construction
  line L9 (-158.1823, -41.5335) -> (-158.1823, -198.9135) construction
  circle A8 centre (-158.1823, 4.1865) radius 1.6
  circle A9 centre (-158.1823, -41.5335) radius 1.6
  circle A10 centre (-158.1823, -198.9135) radius 1.6
  line L10 (-158.1823, 4.1865) -> (-23.5623, 4.1865) construction
  circle A11 centre (-23.5623, 4.1865) radius 1.6
  line L11 (-23.5623, 4.1865) -> (-23.5623, 82.9265) construction
  circle A12 centre (-23.5623, 82.9265) radius 1.6
  line L12 (154.2377, 82.9265) -> (154.2377, -199.0135) construction
  circle A13 centre (131.3777, -199.0135) radius 1.6 construction
  line L13 (154.2377, -199.0135) -> (131.3777, -199.0135) construction
  circle A14 centre (154.2377, -199.0135) radius 1.6
  line L14 (-95.9523, 82.9265) -> (-95.9523, -199.0135) construction
  line L15 (-95.9523, -199.0135) -> (-73.0923, -199.0135) construction
  circle A15 centre (-73.0923, -41.5335) radius 1.6 construction
  line L16 (-73.0923, -41.5335) -> (-95.9523, -41.5335) construction
  circle A16 centre (-73.0923, -199.0135) radius 1.6 construction
  circle A17 centre (-95.9523, -41.5335) radius 1.6
  circle A18 centre (-95.9523, -199.0135) radius 1.6
  line L17 (-73.0923, -199.0135) -> (131.3777, -199.0135) construction
  circle A19 centre (-27.3723, -199.0135) radius 1.6
  point P0 (0, 0)
  dimension "d57" = 330.2
  dimension "d58" = 304.8
  dimension "d59" = 10.16
  dimension "d60" = 16.51
  dimension "d61" = 14.1977
  dimension "d62" = 5.08
  dimension "d63" = 312.42
  dimension "d64" = 154.94
  dimension "d65" = 227.33
  dimension "d66" = 250.19
  dimension "d67" = 78.74
  dimension "d68" = 124.46
  dimension "d69" = 281.84
  dimension "d70" = 177.8
  dimension "d71" = 134.62
  dimension "d72" = 16.51
  dimension "d73" = 181.61
  dimension "d74" = 3.2
extrude "押し出し8" cut sketch "スケッチ10" against normal blind 10 contours A2 | A7 | A8 | A9 | A10 | A11 | A12 | A14 | A17 | A18 | A19
equation "\"d5\" = d3"
equation "\"d6\" = d4"
equation "\"d7\" = d6"
equation "\"d8\" = d5"
equation "\"d9\" = d8"
equation "\"d10\" = d7"
properties part number "right_panel" material "アルミニウム 6061"
